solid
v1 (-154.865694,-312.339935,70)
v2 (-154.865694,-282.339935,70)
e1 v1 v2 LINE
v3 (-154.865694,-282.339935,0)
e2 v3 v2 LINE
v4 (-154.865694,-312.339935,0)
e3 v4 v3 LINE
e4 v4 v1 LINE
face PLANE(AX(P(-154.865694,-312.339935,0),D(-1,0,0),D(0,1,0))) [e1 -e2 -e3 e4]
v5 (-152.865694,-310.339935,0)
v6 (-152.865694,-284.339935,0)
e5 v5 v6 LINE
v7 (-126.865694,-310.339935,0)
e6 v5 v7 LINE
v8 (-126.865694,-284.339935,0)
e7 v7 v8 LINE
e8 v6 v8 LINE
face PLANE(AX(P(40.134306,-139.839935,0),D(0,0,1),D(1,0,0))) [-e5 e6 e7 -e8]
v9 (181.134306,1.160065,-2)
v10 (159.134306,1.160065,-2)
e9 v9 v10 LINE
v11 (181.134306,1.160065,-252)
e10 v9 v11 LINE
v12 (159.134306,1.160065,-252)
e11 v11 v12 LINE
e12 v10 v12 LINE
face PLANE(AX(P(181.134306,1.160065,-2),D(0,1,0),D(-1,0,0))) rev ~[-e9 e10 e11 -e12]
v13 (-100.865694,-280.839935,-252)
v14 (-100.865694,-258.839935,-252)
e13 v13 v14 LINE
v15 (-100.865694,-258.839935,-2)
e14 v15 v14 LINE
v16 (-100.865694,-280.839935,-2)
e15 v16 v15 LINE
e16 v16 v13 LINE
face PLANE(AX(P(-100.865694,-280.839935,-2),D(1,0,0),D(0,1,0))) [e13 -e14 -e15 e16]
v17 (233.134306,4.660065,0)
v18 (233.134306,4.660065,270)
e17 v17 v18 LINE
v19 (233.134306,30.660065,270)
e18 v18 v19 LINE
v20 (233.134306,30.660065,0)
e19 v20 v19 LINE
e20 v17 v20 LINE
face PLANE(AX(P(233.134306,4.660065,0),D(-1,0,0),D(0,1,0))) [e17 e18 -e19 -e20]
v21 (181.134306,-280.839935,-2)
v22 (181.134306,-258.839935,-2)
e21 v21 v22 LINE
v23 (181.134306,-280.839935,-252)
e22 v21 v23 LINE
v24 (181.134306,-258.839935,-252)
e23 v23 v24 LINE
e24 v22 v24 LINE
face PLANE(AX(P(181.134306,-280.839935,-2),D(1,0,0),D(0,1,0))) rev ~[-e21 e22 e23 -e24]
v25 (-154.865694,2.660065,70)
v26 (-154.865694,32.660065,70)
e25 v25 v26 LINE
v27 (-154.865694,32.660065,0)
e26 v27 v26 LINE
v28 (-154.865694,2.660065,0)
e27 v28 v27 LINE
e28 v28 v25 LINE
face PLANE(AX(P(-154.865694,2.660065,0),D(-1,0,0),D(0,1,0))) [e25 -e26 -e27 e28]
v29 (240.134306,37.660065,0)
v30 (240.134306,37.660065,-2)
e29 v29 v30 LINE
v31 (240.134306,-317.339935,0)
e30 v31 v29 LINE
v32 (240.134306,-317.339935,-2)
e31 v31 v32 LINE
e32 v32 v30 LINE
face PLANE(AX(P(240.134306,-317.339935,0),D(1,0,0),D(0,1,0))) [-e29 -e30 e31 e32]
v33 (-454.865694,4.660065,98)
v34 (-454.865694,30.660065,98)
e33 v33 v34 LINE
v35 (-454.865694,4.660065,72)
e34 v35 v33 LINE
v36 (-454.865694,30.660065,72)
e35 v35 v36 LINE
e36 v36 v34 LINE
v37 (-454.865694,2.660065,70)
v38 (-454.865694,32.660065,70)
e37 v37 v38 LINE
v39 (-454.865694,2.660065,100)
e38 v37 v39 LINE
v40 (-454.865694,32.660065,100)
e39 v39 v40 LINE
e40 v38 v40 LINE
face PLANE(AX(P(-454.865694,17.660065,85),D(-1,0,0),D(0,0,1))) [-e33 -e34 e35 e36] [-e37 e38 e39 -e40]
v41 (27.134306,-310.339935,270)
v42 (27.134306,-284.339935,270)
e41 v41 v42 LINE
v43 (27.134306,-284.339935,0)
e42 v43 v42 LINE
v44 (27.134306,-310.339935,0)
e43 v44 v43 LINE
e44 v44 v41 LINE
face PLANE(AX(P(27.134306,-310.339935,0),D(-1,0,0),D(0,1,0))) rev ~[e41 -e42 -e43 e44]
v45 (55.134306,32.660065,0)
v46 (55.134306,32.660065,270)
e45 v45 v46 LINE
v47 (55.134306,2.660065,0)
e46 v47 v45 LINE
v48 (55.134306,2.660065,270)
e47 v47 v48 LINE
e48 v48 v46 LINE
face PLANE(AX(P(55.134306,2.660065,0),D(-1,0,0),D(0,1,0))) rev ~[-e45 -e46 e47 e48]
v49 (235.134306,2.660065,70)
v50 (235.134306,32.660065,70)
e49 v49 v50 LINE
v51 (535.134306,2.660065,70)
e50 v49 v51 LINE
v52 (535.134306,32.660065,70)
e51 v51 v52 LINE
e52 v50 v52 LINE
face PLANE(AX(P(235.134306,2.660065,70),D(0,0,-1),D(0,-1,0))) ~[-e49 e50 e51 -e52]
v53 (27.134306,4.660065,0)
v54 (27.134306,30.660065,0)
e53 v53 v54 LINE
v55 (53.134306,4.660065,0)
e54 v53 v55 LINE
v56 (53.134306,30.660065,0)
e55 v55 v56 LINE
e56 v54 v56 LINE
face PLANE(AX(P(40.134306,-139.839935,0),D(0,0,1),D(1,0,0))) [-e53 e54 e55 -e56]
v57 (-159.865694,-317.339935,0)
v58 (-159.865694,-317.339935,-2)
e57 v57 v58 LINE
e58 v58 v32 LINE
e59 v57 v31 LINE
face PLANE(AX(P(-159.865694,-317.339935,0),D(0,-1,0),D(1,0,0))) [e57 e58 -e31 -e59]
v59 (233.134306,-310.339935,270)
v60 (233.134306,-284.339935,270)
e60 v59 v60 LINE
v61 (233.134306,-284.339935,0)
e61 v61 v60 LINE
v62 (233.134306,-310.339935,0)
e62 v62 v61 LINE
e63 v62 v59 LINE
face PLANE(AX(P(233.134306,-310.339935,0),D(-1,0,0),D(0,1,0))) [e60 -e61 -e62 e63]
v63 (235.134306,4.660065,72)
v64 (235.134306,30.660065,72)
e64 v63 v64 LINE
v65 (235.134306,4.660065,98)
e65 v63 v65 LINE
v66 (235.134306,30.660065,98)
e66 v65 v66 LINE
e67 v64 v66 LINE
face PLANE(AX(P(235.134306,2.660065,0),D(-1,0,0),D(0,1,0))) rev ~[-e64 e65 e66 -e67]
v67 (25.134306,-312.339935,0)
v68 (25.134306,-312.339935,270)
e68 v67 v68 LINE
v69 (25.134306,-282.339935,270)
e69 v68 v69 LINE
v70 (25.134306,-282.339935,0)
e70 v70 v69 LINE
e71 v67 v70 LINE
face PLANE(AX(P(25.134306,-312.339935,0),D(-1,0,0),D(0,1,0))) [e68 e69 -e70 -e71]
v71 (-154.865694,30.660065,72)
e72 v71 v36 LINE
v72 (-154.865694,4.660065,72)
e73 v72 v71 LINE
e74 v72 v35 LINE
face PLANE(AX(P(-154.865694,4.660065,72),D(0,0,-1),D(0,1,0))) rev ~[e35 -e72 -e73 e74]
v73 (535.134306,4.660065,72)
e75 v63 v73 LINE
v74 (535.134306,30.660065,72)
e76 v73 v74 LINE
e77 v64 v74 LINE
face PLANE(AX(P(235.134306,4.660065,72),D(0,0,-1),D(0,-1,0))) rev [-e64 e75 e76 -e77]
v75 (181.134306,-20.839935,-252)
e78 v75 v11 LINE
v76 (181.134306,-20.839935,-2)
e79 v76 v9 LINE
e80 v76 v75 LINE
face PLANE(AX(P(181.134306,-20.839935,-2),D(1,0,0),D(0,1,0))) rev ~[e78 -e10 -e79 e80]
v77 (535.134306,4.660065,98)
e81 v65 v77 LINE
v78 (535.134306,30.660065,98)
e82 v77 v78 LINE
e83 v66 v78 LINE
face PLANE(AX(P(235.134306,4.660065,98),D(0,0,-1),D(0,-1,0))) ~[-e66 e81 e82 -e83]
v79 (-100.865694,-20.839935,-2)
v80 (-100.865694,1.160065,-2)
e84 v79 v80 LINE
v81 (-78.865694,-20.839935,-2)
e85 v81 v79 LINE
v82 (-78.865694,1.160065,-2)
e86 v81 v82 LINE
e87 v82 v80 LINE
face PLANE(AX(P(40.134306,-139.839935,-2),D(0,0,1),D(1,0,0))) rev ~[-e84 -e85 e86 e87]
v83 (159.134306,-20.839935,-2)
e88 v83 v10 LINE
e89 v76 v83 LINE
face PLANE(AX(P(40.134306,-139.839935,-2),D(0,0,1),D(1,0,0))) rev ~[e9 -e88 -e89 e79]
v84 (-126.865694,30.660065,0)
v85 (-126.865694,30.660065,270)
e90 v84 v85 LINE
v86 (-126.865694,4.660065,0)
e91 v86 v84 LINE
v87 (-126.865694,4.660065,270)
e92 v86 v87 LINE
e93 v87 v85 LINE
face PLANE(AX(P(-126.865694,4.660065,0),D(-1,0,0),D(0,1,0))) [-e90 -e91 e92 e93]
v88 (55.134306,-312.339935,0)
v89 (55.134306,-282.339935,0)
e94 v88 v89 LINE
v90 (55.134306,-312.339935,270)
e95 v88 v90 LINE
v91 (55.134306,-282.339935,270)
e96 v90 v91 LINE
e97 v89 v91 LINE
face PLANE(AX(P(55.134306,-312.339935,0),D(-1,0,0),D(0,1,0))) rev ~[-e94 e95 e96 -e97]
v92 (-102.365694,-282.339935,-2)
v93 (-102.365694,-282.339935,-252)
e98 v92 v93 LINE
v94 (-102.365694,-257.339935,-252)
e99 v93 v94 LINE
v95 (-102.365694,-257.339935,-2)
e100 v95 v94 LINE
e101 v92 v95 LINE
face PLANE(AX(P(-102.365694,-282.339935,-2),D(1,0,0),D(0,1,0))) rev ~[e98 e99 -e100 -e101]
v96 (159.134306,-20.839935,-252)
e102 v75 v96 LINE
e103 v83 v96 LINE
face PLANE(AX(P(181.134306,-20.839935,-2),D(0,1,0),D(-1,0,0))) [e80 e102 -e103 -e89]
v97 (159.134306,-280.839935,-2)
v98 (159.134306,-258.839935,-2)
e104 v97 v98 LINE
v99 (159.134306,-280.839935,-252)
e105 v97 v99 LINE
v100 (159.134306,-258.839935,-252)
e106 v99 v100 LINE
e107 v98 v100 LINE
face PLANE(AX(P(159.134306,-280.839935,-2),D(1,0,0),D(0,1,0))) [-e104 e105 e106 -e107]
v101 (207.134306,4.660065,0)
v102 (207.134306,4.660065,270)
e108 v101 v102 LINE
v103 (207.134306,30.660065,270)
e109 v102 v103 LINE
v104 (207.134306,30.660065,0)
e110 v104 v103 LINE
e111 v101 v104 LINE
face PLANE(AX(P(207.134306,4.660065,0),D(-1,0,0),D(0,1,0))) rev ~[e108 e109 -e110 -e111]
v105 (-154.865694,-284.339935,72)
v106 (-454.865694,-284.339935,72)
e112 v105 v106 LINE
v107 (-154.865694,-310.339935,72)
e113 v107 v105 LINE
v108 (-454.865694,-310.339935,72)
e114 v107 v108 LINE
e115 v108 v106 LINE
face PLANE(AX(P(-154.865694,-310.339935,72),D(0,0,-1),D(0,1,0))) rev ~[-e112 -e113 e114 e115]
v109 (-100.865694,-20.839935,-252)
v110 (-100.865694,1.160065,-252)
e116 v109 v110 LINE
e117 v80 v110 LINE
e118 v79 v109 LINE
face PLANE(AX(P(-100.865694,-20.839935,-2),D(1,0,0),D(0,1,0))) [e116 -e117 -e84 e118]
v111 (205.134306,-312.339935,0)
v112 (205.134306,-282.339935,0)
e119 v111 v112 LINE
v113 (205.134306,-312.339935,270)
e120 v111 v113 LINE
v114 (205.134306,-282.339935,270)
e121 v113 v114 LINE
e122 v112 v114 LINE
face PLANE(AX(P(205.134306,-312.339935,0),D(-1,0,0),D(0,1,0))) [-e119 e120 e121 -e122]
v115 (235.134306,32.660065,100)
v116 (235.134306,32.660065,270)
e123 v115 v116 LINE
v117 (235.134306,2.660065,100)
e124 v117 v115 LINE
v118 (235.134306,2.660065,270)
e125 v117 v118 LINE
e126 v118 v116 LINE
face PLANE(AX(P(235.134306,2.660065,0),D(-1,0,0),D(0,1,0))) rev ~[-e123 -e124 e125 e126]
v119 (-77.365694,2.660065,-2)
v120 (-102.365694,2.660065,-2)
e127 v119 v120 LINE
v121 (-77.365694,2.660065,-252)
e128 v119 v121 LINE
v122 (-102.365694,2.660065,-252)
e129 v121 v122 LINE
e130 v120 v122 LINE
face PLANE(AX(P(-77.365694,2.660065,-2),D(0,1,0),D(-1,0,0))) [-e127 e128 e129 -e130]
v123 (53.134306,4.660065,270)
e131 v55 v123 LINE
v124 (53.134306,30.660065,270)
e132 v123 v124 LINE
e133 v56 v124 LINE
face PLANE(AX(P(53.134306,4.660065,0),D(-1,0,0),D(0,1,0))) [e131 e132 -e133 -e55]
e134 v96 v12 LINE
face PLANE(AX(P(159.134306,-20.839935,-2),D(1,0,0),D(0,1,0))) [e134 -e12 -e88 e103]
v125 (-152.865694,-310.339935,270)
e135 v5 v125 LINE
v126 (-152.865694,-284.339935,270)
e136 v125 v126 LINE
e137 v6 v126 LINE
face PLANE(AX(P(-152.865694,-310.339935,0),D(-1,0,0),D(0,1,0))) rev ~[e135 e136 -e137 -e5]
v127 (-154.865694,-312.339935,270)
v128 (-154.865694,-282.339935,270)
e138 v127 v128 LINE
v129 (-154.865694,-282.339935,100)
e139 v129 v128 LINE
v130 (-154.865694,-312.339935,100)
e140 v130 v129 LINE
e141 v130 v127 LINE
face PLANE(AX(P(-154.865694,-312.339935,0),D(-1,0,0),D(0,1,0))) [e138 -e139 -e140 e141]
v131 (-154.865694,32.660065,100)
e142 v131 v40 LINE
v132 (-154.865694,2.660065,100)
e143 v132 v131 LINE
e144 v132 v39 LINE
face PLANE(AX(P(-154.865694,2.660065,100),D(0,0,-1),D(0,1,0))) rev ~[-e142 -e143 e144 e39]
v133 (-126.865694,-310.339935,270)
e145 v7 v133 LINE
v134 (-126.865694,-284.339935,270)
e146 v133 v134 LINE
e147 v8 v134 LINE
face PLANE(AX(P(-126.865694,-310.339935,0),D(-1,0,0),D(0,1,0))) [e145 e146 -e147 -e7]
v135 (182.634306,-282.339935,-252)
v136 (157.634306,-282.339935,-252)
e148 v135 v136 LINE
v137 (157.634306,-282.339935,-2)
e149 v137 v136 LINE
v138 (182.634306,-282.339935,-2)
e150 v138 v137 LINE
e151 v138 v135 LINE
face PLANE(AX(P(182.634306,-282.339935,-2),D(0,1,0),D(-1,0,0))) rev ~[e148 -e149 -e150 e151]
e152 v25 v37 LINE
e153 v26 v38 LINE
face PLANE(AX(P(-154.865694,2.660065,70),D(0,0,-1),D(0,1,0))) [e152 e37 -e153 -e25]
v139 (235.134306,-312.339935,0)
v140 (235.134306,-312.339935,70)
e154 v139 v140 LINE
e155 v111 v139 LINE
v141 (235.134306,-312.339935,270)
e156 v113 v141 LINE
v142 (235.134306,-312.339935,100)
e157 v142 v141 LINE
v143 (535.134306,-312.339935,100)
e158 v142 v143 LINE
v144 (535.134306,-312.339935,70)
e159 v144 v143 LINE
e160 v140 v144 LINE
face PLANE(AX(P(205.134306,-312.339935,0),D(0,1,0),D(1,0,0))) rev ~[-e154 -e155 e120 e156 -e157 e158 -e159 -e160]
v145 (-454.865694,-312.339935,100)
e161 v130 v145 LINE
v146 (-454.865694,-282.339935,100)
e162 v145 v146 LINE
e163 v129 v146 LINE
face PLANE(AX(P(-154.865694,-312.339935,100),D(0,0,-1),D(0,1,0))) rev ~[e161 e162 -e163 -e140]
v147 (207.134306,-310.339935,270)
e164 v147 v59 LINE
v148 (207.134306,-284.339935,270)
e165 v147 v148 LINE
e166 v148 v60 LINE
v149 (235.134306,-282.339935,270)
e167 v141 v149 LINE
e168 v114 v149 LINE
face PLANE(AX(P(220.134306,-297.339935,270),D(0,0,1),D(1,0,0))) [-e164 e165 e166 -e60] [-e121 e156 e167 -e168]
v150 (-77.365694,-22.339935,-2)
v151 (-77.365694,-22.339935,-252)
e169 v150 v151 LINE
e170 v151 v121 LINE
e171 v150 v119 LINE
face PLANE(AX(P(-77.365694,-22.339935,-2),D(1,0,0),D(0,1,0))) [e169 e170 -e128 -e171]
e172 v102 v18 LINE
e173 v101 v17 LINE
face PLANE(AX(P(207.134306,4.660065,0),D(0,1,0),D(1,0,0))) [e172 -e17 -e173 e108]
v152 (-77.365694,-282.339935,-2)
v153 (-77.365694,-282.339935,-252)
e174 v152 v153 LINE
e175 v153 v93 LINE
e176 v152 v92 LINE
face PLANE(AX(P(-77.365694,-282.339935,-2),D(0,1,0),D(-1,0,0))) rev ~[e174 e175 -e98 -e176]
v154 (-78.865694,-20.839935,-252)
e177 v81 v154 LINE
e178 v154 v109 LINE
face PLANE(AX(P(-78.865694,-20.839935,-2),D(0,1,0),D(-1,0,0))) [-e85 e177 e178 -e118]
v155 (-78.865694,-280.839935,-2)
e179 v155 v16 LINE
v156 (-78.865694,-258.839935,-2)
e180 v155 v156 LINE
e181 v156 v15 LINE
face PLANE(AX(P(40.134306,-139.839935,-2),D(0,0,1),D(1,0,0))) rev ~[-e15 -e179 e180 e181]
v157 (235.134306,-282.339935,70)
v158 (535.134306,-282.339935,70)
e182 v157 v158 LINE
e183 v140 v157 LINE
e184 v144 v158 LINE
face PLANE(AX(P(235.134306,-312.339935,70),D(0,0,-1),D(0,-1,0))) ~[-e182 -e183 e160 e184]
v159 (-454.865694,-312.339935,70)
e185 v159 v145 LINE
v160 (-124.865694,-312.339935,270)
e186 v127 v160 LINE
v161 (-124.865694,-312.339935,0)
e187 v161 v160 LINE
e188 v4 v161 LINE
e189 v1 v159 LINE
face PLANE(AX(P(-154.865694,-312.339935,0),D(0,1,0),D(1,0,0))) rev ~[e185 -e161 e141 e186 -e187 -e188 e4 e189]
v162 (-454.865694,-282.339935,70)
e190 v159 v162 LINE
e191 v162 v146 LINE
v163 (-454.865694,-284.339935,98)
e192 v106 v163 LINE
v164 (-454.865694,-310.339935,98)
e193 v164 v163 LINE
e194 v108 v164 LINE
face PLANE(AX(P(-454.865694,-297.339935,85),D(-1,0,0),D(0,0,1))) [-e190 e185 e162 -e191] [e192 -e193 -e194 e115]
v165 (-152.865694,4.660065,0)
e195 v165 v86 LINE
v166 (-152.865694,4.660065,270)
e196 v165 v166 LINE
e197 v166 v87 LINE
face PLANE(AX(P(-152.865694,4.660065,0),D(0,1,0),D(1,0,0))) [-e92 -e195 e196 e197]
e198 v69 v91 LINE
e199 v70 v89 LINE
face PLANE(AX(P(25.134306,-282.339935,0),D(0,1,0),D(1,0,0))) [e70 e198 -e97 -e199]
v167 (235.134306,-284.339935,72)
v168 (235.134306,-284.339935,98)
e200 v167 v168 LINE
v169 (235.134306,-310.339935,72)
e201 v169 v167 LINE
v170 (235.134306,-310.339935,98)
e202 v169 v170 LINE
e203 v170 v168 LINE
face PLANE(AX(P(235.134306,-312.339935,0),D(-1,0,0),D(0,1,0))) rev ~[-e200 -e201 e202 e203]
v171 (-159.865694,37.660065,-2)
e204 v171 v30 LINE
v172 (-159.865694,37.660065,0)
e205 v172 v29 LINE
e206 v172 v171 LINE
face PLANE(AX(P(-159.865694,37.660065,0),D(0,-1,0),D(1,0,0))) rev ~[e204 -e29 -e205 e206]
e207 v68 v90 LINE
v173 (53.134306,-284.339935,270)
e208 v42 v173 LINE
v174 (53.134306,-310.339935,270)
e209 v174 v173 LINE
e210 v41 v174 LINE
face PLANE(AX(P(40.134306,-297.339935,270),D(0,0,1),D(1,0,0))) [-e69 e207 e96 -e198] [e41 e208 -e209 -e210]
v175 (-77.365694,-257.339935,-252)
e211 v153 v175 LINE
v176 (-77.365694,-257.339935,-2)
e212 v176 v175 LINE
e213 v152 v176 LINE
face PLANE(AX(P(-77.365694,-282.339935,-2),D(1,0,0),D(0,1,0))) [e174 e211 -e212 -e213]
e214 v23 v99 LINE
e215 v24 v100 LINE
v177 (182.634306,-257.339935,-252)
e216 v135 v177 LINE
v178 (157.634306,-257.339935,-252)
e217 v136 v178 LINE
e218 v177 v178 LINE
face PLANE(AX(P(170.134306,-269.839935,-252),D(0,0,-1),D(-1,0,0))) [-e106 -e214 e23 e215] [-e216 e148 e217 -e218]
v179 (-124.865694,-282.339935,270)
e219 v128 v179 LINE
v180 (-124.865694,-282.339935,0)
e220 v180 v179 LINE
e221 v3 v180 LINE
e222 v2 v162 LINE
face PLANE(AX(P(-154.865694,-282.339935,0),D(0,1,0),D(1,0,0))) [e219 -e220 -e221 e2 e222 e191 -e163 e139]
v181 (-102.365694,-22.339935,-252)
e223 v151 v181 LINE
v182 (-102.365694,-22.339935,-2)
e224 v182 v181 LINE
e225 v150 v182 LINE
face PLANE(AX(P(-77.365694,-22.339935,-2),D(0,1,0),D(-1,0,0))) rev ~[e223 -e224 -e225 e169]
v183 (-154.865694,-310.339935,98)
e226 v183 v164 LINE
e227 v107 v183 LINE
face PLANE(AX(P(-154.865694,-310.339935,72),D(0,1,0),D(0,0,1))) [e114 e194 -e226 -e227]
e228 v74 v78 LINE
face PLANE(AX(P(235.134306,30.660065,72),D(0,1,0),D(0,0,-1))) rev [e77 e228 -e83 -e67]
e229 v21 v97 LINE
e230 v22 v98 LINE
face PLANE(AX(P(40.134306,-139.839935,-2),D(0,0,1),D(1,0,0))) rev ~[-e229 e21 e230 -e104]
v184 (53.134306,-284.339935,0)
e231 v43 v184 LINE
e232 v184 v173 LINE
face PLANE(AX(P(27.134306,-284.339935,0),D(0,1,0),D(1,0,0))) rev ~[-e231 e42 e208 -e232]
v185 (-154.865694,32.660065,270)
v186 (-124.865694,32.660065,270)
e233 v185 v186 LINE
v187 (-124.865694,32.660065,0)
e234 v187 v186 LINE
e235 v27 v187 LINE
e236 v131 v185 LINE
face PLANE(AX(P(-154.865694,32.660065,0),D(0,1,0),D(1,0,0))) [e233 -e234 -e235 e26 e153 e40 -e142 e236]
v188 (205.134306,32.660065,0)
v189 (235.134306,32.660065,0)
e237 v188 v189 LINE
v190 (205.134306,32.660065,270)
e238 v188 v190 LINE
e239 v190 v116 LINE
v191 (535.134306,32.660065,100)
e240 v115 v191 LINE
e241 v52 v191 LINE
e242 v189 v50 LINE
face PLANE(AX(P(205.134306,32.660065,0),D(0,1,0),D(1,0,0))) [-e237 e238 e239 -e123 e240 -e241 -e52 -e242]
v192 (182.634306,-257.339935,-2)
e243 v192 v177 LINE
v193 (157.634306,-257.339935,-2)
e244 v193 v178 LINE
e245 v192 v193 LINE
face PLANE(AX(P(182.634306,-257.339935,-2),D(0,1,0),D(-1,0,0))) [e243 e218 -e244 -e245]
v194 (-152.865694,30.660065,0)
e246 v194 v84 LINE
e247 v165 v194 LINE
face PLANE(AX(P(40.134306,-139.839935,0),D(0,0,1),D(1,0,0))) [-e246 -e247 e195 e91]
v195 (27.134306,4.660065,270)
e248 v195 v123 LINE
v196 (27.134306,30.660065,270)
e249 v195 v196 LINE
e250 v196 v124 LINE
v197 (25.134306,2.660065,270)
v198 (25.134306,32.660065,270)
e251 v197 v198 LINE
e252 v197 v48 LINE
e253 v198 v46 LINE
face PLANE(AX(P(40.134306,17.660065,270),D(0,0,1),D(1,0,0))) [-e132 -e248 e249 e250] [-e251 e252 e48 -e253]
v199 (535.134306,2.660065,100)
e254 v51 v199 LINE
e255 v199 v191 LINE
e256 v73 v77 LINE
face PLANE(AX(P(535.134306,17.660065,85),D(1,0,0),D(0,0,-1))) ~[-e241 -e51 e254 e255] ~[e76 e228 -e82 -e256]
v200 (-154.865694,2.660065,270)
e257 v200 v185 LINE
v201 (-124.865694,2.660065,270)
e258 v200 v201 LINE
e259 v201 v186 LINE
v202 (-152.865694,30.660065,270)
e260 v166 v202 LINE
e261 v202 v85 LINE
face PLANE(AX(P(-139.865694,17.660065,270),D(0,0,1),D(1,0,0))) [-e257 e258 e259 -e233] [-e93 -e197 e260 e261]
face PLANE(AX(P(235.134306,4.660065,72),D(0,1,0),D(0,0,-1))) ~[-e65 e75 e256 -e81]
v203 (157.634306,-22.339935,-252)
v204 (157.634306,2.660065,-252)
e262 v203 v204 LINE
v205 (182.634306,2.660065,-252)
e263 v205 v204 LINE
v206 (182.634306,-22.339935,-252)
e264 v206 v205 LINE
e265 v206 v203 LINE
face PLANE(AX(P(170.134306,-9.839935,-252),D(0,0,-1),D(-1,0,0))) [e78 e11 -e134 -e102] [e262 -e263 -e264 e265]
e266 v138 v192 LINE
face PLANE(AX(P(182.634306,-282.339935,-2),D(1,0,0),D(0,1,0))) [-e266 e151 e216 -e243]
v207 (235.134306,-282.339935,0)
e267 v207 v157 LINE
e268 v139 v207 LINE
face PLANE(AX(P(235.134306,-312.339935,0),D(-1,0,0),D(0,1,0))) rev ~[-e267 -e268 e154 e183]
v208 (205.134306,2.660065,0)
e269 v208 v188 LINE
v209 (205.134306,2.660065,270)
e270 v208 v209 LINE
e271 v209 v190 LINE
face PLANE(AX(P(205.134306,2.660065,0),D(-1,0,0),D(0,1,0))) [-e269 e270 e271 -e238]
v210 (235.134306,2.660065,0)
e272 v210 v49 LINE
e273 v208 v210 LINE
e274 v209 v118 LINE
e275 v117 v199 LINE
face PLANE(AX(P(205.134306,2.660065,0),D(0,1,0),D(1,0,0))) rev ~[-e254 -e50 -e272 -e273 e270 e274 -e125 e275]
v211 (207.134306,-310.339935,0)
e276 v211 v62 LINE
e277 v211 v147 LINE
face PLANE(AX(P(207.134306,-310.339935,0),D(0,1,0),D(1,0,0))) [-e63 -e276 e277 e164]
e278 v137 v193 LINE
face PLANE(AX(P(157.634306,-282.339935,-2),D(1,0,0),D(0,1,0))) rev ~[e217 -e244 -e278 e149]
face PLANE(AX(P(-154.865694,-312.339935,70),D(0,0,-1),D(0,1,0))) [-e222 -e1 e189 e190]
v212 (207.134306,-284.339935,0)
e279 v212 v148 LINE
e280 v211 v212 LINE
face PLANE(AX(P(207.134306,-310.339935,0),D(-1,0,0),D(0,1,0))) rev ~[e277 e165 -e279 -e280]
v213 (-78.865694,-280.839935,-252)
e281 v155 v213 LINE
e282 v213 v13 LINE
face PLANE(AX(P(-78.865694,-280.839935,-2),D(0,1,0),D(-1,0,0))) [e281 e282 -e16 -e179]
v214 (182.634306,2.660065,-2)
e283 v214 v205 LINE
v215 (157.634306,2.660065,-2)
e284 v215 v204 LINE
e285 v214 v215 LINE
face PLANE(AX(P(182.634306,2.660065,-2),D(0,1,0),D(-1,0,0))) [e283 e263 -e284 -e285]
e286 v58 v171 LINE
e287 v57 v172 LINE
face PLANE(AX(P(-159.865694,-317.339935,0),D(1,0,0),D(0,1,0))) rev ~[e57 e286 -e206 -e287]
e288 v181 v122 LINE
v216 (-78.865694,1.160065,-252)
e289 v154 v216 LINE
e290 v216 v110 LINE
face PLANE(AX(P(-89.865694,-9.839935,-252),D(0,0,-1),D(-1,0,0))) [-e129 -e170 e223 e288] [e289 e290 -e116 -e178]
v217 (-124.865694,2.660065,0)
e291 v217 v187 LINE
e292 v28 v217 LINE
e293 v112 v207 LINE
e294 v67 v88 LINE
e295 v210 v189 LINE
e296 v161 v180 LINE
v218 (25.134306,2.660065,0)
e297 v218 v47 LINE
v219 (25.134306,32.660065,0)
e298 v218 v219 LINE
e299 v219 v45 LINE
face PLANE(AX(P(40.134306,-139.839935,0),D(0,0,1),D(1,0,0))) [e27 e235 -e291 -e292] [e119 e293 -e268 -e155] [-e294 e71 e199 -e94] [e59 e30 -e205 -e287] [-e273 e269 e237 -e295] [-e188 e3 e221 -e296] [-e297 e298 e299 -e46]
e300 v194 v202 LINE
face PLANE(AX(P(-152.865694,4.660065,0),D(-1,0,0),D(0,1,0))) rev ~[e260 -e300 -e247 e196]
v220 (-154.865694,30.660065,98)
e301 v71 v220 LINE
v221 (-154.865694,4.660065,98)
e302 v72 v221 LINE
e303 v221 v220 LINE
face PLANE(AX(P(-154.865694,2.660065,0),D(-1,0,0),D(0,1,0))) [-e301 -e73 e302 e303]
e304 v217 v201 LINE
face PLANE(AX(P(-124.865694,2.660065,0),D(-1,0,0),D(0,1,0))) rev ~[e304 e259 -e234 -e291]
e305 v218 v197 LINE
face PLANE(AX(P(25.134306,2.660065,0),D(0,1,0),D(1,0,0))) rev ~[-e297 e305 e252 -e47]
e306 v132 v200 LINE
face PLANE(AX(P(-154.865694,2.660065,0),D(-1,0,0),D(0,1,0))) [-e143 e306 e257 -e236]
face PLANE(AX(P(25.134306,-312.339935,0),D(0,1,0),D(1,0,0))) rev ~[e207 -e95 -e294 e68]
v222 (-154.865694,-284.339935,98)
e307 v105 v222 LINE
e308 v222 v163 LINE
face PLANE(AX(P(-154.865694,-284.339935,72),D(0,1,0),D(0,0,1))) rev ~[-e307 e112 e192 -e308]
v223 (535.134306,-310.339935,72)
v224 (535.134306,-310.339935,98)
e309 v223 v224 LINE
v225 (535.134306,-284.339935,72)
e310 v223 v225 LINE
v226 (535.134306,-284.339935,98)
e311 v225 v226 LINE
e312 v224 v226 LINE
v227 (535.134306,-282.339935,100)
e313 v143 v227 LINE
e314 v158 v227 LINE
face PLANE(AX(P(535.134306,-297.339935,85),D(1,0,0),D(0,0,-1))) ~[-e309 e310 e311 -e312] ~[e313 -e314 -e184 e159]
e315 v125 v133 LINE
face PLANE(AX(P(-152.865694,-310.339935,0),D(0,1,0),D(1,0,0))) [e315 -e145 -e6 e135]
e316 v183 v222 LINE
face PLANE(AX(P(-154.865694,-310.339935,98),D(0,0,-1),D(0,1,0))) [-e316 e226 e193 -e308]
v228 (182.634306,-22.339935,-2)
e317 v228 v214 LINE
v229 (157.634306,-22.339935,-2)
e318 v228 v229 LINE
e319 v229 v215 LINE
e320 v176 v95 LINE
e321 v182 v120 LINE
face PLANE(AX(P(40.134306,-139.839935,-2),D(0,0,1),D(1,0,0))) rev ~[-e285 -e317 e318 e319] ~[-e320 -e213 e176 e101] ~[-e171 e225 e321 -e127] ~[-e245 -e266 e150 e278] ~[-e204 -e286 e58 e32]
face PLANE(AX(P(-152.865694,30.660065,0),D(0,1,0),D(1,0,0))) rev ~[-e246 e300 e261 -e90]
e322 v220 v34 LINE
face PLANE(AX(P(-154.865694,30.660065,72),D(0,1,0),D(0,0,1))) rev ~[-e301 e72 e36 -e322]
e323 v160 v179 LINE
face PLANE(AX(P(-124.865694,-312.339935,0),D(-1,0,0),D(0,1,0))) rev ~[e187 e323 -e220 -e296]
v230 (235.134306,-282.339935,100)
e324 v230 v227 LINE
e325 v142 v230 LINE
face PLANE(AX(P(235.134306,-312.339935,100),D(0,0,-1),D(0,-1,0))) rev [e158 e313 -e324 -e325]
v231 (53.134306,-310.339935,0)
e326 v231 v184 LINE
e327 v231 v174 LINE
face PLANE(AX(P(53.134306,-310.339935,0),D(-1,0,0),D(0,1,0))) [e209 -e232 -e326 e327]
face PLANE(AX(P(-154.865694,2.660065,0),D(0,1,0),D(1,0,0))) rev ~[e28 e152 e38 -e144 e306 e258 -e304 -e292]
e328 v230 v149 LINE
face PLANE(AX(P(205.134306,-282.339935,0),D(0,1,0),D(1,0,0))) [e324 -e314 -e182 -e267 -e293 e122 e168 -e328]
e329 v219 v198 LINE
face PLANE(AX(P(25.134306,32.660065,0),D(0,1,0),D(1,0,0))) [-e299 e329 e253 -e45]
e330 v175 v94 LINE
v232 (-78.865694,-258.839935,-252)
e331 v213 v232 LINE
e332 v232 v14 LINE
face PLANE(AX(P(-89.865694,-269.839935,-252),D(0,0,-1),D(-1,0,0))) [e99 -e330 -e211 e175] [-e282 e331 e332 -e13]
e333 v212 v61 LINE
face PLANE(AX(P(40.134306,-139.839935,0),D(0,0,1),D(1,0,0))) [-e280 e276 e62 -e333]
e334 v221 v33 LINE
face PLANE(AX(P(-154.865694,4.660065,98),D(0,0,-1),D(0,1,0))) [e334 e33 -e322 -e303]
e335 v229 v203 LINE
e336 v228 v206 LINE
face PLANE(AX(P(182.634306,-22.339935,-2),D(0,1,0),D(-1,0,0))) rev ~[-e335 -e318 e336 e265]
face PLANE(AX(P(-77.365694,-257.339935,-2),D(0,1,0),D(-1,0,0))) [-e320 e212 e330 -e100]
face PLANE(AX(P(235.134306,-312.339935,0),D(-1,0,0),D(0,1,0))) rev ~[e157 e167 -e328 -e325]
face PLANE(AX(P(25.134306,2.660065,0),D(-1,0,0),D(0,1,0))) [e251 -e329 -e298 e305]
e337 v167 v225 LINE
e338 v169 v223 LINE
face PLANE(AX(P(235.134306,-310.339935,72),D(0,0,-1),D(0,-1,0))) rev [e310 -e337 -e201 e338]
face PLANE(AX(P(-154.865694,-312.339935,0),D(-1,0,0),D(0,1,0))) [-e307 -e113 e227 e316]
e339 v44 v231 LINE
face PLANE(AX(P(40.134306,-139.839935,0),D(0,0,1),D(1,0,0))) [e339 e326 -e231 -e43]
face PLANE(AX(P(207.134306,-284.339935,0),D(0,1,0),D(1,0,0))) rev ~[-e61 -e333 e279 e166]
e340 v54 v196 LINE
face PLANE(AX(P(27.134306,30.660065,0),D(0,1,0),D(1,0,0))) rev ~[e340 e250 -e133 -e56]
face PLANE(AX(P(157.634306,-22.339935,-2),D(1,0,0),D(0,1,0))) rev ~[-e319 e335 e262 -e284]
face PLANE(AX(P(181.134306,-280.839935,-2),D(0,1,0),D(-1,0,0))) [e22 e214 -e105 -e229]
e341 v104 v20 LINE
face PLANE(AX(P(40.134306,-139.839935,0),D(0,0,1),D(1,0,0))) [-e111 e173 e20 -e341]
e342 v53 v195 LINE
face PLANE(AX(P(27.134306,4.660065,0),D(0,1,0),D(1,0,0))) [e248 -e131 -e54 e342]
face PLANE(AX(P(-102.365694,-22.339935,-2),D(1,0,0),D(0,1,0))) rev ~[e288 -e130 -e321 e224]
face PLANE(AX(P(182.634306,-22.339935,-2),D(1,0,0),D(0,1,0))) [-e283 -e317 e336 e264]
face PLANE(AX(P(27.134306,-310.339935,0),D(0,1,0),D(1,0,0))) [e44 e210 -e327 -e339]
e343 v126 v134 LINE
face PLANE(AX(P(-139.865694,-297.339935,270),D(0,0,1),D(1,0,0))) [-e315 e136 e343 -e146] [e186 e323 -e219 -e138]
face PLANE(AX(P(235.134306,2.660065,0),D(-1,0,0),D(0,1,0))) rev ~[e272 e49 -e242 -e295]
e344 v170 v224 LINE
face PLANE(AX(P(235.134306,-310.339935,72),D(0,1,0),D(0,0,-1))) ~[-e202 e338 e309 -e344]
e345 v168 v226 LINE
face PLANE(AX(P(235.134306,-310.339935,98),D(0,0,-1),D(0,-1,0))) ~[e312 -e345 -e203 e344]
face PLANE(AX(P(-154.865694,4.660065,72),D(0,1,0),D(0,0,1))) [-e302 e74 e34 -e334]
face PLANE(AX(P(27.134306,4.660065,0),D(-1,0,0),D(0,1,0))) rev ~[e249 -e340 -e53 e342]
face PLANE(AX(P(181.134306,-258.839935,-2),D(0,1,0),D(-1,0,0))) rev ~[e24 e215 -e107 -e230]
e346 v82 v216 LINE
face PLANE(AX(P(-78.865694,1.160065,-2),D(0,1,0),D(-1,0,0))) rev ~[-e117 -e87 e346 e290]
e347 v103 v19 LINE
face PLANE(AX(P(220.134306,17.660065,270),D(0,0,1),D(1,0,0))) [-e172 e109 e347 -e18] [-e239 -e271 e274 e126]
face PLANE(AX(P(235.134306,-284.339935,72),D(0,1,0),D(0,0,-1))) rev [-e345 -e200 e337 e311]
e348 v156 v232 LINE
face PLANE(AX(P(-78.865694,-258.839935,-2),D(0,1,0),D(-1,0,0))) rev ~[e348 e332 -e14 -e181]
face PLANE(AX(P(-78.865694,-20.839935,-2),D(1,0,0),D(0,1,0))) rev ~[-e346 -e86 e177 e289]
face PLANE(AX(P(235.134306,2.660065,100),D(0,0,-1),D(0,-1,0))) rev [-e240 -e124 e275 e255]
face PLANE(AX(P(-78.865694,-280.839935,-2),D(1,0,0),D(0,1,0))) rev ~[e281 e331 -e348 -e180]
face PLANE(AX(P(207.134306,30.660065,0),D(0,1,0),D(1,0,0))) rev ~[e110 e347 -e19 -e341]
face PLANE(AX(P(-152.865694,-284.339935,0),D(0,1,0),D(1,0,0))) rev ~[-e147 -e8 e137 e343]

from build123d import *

# Parameters (mm, degrees)
SKETCH_1_W        = 30
SKETCH_1_H        = 30
SKETCH_1_W_2      = 26
SKETCH_1_H_2      = 26
EXTRUDE_1_DEPTH   = 270
EXTRUDE_1_2_DEPTH = 270
EXTRUDE_1_3_DEPTH = 270
EXTRUDE_1_4_DEPTH = 270
EXTRUDE_1_5_DEPTH = 270
EXTRUDE_1_6_DEPTH = 270
SKETCH_1_4_W      = 400
SKETCH_1_4_H      = 355
EXTRUDE_2_DEPTH   = 2
SKETCH_3_W        = 25
SKETCH_3_H        = 25
SKETCH_3_W_2      = 22
SKETCH_3_H_2      = 22
EXTRUDE_3_DEPTH   = 250
SKETCH_8_W        = 30
SKETCH_8_H        = 30
SKETCH_8_W_2      = 26
SKETCH_8_H_2      = 26
EXTRUDE_4_DEPTH   = 300


with BuildPart() as part:
    # 草圖1 → 填料-伸長1 (new body)
    with BuildSketch(Plane.XY):
        with Locations((-139.865693992, 17.660065035)):
            Rectangle(SKETCH_1_W, SKETCH_1_H)
        with Locations((-139.865693992, 17.660065035)):
            Rectangle(SKETCH_1_W_2, SKETCH_1_H_2, mode=Mode.SUBTRACT)
    extrude(amount=EXTRUDE_1_DEPTH)



with BuildPart() as body_2:
    # 草圖1 → Extrude 1 2 (new body)
    with BuildSketch(Plane.XY):
        with Locations((40.134306008, 17.660065035)):
            Rectangle(SKETCH_1_W, SKETCH_1_H)
        with Locations((40.134306008, 17.660065035)):
            Rectangle(SKETCH_1_W_2, SKETCH_1_H_2, mode=Mode.SUBTRACT)
    extrude(amount=EXTRUDE_1_2_DEPTH)


with BuildPart() as body_3:
    # 草圖1 → Extrude 1 3 (new body)
    with BuildSketch(Plane.XY):
        with Locations((220.134306008, 17.660065035)):
            Rectangle(SKETCH_1_W, SKETCH_1_H)
        with Locations((220.134306008, 17.660065035)):
            Rectangle(SKETCH_1_W_2, SKETCH_1_H_2, mode=Mode.SUBTRACT)
    extrude(amount=EXTRUDE_1_3_DEPTH)


with BuildPart() as body_4:
    # 草圖1 → Extrude 1 4 (new body)
    with BuildSketch(Plane.XY):
        with Locations((-139.865693992, -297.339934965)):
            Rectangle(SKETCH_1_W, SKETCH_1_H)
        with Locations((-139.865693992, -297.339934965)):
            Rectangle(SKETCH_1_W_2, SKETCH_1_H_2, mode=Mode.SUBTRACT)
    extrude(amount=EXTRUDE_1_4_DEPTH)


with BuildPart() as body_5:
    # 草圖1 → Extrude 1 5 (new body)
    with BuildSketch(Plane.XY):
        with Locations((40.134306008, -297.339934965)):
            Rectangle(SKETCH_1_W, SKETCH_1_H)
        with Locations((40.134306008, -297.339934965)):
            Rectangle(SKETCH_1_W_2, SKETCH_1_H_2, mode=Mode.SUBTRACT)
    extrude(amount=EXTRUDE_1_5_DEPTH)


with BuildPart() as body_6:
    # 草圖1 → Extrude 1 6 (new body)
    with BuildSketch(Plane.XY):
        with Locations((220.134306008, -297.339934965)):
            Rectangle(SKETCH_1_W, SKETCH_1_H)
        with Locations((220.134306008, -297.339934965)):
            Rectangle(SKETCH_1_W_2, SKETCH_1_H_2, mode=Mode.SUBTRACT)
    extrude(amount=EXTRUDE_1_6_DEPTH)


with BuildPart() as part_1:
    add(part.part)

    add(body_2.part)  # 填料-伸長2 merges body 2

    add(body_3.part)  # 填料-伸長2 merges body 3

    add(body_4.part)  # 填料-伸長2 merges body 4

    add(body_5.part)  # 填料-伸長2 merges body 5

    add(body_6.part)  # 填料-伸長2 merges body 6
    # 草圖1<4> → 填料-伸長2 (add)
    with BuildSketch(Plane.XY):
        with Locations((40.134306008, -139.839934965)):
            Rectangle(SKETCH_1_4_W, SKETCH_1_4_H)
    extrude(amount=-EXTRUDE_2_DEPTH)

    # 草圖3 → 填料-伸長3 (add)
    # profile 1 of 4: a face of its own
    with BuildSketch(Plane(origin=(0, 0, -2), x_dir=(-1, 0, 0), z_dir=(0, 0, -1))):
        with Locations((-170.134306008, -9.839934965)):
            Rectangle(SKETCH_3_W, SKETCH_3_H)
        with Locations((-170.134306008, -9.839934965)):
            Rectangle(SKETCH_3_W_2, SKETCH_3_H_2, mode=Mode.SUBTRACT)
    # profile 2 of 4: a face of its own
    with BuildSketch(Plane(origin=(0, 0, -2), x_dir=(-1, 0, 0), z_dir=(0, 0, -1))):
        with Locations((-170.134306008, -269.839934965)):
            Rectangle(SKETCH_3_W, SKETCH_3_H)
        with Locations((-170.134306008, -269.839934965)):
            Rectangle(SKETCH_3_W_2, SKETCH_3_H_2, mode=Mode.SUBTRACT)
    # profile 3 of 4: a face of its own
    with BuildSketch(Plane(origin=(0, 0, -2), x_dir=(-1, 0, 0), z_dir=(0, 0, -1))):
        with Locations((89.865693992, -269.839934965)):
            Rectangle(SKETCH_3_W, SKETCH_3_H)
        with Locations((89.865693992, -269.839934965)):
            Rectangle(SKETCH_3_W_2, SKETCH_3_H_2, mode=Mode.SUBTRACT)
    # profile 4 of 4: a face of its own
    with BuildSketch(Plane(origin=(0, 0, -2), x_dir=(-1, 0, 0), z_dir=(0, 0, -1))):
        with Locations((89.865693992, -9.839934965)):
            Rectangle(SKETCH_3_W, SKETCH_3_H)
        with Locations((89.865693992, -9.839934965)):
            Rectangle(SKETCH_3_W_2, SKETCH_3_H_2, mode=Mode.SUBTRACT)
    extrude(amount=EXTRUDE_3_DEPTH)

    # 草圖8 → 填料-伸長4 (add)
    # profile 1 of 2: a face of its own
    with BuildSketch(Plane.ZY.offset(154.865693992)):
        with Locations((85, -297.339934965)):
            Rectangle(SKETCH_8_W, SKETCH_8_H)
        with Locations((85, -297.339934965)):
            Rectangle(SKETCH_8_W_2, SKETCH_8_H_2, mode=Mode.SUBTRACT)
    # profile 2 of 2: a face of its own
    with BuildSketch(Plane.ZY.offset(154.865693992)):
        with Locations((85, 17.660065035)):
            Rectangle(SKETCH_8_W, SKETCH_8_H)
        with Locations((85, 17.660065035)):
            Rectangle(SKETCH_8_W_2, SKETCH_8_H_2, mode=Mode.SUBTRACT)
    extrude_4 = extrude(amount=EXTRUDE_4_DEPTH)

    # 鏡射1: 填料-伸長4 across plane
    add(extrude_4.mirror(Plane.ZY.offset(-40.134306008)))


solid = part_1.part
